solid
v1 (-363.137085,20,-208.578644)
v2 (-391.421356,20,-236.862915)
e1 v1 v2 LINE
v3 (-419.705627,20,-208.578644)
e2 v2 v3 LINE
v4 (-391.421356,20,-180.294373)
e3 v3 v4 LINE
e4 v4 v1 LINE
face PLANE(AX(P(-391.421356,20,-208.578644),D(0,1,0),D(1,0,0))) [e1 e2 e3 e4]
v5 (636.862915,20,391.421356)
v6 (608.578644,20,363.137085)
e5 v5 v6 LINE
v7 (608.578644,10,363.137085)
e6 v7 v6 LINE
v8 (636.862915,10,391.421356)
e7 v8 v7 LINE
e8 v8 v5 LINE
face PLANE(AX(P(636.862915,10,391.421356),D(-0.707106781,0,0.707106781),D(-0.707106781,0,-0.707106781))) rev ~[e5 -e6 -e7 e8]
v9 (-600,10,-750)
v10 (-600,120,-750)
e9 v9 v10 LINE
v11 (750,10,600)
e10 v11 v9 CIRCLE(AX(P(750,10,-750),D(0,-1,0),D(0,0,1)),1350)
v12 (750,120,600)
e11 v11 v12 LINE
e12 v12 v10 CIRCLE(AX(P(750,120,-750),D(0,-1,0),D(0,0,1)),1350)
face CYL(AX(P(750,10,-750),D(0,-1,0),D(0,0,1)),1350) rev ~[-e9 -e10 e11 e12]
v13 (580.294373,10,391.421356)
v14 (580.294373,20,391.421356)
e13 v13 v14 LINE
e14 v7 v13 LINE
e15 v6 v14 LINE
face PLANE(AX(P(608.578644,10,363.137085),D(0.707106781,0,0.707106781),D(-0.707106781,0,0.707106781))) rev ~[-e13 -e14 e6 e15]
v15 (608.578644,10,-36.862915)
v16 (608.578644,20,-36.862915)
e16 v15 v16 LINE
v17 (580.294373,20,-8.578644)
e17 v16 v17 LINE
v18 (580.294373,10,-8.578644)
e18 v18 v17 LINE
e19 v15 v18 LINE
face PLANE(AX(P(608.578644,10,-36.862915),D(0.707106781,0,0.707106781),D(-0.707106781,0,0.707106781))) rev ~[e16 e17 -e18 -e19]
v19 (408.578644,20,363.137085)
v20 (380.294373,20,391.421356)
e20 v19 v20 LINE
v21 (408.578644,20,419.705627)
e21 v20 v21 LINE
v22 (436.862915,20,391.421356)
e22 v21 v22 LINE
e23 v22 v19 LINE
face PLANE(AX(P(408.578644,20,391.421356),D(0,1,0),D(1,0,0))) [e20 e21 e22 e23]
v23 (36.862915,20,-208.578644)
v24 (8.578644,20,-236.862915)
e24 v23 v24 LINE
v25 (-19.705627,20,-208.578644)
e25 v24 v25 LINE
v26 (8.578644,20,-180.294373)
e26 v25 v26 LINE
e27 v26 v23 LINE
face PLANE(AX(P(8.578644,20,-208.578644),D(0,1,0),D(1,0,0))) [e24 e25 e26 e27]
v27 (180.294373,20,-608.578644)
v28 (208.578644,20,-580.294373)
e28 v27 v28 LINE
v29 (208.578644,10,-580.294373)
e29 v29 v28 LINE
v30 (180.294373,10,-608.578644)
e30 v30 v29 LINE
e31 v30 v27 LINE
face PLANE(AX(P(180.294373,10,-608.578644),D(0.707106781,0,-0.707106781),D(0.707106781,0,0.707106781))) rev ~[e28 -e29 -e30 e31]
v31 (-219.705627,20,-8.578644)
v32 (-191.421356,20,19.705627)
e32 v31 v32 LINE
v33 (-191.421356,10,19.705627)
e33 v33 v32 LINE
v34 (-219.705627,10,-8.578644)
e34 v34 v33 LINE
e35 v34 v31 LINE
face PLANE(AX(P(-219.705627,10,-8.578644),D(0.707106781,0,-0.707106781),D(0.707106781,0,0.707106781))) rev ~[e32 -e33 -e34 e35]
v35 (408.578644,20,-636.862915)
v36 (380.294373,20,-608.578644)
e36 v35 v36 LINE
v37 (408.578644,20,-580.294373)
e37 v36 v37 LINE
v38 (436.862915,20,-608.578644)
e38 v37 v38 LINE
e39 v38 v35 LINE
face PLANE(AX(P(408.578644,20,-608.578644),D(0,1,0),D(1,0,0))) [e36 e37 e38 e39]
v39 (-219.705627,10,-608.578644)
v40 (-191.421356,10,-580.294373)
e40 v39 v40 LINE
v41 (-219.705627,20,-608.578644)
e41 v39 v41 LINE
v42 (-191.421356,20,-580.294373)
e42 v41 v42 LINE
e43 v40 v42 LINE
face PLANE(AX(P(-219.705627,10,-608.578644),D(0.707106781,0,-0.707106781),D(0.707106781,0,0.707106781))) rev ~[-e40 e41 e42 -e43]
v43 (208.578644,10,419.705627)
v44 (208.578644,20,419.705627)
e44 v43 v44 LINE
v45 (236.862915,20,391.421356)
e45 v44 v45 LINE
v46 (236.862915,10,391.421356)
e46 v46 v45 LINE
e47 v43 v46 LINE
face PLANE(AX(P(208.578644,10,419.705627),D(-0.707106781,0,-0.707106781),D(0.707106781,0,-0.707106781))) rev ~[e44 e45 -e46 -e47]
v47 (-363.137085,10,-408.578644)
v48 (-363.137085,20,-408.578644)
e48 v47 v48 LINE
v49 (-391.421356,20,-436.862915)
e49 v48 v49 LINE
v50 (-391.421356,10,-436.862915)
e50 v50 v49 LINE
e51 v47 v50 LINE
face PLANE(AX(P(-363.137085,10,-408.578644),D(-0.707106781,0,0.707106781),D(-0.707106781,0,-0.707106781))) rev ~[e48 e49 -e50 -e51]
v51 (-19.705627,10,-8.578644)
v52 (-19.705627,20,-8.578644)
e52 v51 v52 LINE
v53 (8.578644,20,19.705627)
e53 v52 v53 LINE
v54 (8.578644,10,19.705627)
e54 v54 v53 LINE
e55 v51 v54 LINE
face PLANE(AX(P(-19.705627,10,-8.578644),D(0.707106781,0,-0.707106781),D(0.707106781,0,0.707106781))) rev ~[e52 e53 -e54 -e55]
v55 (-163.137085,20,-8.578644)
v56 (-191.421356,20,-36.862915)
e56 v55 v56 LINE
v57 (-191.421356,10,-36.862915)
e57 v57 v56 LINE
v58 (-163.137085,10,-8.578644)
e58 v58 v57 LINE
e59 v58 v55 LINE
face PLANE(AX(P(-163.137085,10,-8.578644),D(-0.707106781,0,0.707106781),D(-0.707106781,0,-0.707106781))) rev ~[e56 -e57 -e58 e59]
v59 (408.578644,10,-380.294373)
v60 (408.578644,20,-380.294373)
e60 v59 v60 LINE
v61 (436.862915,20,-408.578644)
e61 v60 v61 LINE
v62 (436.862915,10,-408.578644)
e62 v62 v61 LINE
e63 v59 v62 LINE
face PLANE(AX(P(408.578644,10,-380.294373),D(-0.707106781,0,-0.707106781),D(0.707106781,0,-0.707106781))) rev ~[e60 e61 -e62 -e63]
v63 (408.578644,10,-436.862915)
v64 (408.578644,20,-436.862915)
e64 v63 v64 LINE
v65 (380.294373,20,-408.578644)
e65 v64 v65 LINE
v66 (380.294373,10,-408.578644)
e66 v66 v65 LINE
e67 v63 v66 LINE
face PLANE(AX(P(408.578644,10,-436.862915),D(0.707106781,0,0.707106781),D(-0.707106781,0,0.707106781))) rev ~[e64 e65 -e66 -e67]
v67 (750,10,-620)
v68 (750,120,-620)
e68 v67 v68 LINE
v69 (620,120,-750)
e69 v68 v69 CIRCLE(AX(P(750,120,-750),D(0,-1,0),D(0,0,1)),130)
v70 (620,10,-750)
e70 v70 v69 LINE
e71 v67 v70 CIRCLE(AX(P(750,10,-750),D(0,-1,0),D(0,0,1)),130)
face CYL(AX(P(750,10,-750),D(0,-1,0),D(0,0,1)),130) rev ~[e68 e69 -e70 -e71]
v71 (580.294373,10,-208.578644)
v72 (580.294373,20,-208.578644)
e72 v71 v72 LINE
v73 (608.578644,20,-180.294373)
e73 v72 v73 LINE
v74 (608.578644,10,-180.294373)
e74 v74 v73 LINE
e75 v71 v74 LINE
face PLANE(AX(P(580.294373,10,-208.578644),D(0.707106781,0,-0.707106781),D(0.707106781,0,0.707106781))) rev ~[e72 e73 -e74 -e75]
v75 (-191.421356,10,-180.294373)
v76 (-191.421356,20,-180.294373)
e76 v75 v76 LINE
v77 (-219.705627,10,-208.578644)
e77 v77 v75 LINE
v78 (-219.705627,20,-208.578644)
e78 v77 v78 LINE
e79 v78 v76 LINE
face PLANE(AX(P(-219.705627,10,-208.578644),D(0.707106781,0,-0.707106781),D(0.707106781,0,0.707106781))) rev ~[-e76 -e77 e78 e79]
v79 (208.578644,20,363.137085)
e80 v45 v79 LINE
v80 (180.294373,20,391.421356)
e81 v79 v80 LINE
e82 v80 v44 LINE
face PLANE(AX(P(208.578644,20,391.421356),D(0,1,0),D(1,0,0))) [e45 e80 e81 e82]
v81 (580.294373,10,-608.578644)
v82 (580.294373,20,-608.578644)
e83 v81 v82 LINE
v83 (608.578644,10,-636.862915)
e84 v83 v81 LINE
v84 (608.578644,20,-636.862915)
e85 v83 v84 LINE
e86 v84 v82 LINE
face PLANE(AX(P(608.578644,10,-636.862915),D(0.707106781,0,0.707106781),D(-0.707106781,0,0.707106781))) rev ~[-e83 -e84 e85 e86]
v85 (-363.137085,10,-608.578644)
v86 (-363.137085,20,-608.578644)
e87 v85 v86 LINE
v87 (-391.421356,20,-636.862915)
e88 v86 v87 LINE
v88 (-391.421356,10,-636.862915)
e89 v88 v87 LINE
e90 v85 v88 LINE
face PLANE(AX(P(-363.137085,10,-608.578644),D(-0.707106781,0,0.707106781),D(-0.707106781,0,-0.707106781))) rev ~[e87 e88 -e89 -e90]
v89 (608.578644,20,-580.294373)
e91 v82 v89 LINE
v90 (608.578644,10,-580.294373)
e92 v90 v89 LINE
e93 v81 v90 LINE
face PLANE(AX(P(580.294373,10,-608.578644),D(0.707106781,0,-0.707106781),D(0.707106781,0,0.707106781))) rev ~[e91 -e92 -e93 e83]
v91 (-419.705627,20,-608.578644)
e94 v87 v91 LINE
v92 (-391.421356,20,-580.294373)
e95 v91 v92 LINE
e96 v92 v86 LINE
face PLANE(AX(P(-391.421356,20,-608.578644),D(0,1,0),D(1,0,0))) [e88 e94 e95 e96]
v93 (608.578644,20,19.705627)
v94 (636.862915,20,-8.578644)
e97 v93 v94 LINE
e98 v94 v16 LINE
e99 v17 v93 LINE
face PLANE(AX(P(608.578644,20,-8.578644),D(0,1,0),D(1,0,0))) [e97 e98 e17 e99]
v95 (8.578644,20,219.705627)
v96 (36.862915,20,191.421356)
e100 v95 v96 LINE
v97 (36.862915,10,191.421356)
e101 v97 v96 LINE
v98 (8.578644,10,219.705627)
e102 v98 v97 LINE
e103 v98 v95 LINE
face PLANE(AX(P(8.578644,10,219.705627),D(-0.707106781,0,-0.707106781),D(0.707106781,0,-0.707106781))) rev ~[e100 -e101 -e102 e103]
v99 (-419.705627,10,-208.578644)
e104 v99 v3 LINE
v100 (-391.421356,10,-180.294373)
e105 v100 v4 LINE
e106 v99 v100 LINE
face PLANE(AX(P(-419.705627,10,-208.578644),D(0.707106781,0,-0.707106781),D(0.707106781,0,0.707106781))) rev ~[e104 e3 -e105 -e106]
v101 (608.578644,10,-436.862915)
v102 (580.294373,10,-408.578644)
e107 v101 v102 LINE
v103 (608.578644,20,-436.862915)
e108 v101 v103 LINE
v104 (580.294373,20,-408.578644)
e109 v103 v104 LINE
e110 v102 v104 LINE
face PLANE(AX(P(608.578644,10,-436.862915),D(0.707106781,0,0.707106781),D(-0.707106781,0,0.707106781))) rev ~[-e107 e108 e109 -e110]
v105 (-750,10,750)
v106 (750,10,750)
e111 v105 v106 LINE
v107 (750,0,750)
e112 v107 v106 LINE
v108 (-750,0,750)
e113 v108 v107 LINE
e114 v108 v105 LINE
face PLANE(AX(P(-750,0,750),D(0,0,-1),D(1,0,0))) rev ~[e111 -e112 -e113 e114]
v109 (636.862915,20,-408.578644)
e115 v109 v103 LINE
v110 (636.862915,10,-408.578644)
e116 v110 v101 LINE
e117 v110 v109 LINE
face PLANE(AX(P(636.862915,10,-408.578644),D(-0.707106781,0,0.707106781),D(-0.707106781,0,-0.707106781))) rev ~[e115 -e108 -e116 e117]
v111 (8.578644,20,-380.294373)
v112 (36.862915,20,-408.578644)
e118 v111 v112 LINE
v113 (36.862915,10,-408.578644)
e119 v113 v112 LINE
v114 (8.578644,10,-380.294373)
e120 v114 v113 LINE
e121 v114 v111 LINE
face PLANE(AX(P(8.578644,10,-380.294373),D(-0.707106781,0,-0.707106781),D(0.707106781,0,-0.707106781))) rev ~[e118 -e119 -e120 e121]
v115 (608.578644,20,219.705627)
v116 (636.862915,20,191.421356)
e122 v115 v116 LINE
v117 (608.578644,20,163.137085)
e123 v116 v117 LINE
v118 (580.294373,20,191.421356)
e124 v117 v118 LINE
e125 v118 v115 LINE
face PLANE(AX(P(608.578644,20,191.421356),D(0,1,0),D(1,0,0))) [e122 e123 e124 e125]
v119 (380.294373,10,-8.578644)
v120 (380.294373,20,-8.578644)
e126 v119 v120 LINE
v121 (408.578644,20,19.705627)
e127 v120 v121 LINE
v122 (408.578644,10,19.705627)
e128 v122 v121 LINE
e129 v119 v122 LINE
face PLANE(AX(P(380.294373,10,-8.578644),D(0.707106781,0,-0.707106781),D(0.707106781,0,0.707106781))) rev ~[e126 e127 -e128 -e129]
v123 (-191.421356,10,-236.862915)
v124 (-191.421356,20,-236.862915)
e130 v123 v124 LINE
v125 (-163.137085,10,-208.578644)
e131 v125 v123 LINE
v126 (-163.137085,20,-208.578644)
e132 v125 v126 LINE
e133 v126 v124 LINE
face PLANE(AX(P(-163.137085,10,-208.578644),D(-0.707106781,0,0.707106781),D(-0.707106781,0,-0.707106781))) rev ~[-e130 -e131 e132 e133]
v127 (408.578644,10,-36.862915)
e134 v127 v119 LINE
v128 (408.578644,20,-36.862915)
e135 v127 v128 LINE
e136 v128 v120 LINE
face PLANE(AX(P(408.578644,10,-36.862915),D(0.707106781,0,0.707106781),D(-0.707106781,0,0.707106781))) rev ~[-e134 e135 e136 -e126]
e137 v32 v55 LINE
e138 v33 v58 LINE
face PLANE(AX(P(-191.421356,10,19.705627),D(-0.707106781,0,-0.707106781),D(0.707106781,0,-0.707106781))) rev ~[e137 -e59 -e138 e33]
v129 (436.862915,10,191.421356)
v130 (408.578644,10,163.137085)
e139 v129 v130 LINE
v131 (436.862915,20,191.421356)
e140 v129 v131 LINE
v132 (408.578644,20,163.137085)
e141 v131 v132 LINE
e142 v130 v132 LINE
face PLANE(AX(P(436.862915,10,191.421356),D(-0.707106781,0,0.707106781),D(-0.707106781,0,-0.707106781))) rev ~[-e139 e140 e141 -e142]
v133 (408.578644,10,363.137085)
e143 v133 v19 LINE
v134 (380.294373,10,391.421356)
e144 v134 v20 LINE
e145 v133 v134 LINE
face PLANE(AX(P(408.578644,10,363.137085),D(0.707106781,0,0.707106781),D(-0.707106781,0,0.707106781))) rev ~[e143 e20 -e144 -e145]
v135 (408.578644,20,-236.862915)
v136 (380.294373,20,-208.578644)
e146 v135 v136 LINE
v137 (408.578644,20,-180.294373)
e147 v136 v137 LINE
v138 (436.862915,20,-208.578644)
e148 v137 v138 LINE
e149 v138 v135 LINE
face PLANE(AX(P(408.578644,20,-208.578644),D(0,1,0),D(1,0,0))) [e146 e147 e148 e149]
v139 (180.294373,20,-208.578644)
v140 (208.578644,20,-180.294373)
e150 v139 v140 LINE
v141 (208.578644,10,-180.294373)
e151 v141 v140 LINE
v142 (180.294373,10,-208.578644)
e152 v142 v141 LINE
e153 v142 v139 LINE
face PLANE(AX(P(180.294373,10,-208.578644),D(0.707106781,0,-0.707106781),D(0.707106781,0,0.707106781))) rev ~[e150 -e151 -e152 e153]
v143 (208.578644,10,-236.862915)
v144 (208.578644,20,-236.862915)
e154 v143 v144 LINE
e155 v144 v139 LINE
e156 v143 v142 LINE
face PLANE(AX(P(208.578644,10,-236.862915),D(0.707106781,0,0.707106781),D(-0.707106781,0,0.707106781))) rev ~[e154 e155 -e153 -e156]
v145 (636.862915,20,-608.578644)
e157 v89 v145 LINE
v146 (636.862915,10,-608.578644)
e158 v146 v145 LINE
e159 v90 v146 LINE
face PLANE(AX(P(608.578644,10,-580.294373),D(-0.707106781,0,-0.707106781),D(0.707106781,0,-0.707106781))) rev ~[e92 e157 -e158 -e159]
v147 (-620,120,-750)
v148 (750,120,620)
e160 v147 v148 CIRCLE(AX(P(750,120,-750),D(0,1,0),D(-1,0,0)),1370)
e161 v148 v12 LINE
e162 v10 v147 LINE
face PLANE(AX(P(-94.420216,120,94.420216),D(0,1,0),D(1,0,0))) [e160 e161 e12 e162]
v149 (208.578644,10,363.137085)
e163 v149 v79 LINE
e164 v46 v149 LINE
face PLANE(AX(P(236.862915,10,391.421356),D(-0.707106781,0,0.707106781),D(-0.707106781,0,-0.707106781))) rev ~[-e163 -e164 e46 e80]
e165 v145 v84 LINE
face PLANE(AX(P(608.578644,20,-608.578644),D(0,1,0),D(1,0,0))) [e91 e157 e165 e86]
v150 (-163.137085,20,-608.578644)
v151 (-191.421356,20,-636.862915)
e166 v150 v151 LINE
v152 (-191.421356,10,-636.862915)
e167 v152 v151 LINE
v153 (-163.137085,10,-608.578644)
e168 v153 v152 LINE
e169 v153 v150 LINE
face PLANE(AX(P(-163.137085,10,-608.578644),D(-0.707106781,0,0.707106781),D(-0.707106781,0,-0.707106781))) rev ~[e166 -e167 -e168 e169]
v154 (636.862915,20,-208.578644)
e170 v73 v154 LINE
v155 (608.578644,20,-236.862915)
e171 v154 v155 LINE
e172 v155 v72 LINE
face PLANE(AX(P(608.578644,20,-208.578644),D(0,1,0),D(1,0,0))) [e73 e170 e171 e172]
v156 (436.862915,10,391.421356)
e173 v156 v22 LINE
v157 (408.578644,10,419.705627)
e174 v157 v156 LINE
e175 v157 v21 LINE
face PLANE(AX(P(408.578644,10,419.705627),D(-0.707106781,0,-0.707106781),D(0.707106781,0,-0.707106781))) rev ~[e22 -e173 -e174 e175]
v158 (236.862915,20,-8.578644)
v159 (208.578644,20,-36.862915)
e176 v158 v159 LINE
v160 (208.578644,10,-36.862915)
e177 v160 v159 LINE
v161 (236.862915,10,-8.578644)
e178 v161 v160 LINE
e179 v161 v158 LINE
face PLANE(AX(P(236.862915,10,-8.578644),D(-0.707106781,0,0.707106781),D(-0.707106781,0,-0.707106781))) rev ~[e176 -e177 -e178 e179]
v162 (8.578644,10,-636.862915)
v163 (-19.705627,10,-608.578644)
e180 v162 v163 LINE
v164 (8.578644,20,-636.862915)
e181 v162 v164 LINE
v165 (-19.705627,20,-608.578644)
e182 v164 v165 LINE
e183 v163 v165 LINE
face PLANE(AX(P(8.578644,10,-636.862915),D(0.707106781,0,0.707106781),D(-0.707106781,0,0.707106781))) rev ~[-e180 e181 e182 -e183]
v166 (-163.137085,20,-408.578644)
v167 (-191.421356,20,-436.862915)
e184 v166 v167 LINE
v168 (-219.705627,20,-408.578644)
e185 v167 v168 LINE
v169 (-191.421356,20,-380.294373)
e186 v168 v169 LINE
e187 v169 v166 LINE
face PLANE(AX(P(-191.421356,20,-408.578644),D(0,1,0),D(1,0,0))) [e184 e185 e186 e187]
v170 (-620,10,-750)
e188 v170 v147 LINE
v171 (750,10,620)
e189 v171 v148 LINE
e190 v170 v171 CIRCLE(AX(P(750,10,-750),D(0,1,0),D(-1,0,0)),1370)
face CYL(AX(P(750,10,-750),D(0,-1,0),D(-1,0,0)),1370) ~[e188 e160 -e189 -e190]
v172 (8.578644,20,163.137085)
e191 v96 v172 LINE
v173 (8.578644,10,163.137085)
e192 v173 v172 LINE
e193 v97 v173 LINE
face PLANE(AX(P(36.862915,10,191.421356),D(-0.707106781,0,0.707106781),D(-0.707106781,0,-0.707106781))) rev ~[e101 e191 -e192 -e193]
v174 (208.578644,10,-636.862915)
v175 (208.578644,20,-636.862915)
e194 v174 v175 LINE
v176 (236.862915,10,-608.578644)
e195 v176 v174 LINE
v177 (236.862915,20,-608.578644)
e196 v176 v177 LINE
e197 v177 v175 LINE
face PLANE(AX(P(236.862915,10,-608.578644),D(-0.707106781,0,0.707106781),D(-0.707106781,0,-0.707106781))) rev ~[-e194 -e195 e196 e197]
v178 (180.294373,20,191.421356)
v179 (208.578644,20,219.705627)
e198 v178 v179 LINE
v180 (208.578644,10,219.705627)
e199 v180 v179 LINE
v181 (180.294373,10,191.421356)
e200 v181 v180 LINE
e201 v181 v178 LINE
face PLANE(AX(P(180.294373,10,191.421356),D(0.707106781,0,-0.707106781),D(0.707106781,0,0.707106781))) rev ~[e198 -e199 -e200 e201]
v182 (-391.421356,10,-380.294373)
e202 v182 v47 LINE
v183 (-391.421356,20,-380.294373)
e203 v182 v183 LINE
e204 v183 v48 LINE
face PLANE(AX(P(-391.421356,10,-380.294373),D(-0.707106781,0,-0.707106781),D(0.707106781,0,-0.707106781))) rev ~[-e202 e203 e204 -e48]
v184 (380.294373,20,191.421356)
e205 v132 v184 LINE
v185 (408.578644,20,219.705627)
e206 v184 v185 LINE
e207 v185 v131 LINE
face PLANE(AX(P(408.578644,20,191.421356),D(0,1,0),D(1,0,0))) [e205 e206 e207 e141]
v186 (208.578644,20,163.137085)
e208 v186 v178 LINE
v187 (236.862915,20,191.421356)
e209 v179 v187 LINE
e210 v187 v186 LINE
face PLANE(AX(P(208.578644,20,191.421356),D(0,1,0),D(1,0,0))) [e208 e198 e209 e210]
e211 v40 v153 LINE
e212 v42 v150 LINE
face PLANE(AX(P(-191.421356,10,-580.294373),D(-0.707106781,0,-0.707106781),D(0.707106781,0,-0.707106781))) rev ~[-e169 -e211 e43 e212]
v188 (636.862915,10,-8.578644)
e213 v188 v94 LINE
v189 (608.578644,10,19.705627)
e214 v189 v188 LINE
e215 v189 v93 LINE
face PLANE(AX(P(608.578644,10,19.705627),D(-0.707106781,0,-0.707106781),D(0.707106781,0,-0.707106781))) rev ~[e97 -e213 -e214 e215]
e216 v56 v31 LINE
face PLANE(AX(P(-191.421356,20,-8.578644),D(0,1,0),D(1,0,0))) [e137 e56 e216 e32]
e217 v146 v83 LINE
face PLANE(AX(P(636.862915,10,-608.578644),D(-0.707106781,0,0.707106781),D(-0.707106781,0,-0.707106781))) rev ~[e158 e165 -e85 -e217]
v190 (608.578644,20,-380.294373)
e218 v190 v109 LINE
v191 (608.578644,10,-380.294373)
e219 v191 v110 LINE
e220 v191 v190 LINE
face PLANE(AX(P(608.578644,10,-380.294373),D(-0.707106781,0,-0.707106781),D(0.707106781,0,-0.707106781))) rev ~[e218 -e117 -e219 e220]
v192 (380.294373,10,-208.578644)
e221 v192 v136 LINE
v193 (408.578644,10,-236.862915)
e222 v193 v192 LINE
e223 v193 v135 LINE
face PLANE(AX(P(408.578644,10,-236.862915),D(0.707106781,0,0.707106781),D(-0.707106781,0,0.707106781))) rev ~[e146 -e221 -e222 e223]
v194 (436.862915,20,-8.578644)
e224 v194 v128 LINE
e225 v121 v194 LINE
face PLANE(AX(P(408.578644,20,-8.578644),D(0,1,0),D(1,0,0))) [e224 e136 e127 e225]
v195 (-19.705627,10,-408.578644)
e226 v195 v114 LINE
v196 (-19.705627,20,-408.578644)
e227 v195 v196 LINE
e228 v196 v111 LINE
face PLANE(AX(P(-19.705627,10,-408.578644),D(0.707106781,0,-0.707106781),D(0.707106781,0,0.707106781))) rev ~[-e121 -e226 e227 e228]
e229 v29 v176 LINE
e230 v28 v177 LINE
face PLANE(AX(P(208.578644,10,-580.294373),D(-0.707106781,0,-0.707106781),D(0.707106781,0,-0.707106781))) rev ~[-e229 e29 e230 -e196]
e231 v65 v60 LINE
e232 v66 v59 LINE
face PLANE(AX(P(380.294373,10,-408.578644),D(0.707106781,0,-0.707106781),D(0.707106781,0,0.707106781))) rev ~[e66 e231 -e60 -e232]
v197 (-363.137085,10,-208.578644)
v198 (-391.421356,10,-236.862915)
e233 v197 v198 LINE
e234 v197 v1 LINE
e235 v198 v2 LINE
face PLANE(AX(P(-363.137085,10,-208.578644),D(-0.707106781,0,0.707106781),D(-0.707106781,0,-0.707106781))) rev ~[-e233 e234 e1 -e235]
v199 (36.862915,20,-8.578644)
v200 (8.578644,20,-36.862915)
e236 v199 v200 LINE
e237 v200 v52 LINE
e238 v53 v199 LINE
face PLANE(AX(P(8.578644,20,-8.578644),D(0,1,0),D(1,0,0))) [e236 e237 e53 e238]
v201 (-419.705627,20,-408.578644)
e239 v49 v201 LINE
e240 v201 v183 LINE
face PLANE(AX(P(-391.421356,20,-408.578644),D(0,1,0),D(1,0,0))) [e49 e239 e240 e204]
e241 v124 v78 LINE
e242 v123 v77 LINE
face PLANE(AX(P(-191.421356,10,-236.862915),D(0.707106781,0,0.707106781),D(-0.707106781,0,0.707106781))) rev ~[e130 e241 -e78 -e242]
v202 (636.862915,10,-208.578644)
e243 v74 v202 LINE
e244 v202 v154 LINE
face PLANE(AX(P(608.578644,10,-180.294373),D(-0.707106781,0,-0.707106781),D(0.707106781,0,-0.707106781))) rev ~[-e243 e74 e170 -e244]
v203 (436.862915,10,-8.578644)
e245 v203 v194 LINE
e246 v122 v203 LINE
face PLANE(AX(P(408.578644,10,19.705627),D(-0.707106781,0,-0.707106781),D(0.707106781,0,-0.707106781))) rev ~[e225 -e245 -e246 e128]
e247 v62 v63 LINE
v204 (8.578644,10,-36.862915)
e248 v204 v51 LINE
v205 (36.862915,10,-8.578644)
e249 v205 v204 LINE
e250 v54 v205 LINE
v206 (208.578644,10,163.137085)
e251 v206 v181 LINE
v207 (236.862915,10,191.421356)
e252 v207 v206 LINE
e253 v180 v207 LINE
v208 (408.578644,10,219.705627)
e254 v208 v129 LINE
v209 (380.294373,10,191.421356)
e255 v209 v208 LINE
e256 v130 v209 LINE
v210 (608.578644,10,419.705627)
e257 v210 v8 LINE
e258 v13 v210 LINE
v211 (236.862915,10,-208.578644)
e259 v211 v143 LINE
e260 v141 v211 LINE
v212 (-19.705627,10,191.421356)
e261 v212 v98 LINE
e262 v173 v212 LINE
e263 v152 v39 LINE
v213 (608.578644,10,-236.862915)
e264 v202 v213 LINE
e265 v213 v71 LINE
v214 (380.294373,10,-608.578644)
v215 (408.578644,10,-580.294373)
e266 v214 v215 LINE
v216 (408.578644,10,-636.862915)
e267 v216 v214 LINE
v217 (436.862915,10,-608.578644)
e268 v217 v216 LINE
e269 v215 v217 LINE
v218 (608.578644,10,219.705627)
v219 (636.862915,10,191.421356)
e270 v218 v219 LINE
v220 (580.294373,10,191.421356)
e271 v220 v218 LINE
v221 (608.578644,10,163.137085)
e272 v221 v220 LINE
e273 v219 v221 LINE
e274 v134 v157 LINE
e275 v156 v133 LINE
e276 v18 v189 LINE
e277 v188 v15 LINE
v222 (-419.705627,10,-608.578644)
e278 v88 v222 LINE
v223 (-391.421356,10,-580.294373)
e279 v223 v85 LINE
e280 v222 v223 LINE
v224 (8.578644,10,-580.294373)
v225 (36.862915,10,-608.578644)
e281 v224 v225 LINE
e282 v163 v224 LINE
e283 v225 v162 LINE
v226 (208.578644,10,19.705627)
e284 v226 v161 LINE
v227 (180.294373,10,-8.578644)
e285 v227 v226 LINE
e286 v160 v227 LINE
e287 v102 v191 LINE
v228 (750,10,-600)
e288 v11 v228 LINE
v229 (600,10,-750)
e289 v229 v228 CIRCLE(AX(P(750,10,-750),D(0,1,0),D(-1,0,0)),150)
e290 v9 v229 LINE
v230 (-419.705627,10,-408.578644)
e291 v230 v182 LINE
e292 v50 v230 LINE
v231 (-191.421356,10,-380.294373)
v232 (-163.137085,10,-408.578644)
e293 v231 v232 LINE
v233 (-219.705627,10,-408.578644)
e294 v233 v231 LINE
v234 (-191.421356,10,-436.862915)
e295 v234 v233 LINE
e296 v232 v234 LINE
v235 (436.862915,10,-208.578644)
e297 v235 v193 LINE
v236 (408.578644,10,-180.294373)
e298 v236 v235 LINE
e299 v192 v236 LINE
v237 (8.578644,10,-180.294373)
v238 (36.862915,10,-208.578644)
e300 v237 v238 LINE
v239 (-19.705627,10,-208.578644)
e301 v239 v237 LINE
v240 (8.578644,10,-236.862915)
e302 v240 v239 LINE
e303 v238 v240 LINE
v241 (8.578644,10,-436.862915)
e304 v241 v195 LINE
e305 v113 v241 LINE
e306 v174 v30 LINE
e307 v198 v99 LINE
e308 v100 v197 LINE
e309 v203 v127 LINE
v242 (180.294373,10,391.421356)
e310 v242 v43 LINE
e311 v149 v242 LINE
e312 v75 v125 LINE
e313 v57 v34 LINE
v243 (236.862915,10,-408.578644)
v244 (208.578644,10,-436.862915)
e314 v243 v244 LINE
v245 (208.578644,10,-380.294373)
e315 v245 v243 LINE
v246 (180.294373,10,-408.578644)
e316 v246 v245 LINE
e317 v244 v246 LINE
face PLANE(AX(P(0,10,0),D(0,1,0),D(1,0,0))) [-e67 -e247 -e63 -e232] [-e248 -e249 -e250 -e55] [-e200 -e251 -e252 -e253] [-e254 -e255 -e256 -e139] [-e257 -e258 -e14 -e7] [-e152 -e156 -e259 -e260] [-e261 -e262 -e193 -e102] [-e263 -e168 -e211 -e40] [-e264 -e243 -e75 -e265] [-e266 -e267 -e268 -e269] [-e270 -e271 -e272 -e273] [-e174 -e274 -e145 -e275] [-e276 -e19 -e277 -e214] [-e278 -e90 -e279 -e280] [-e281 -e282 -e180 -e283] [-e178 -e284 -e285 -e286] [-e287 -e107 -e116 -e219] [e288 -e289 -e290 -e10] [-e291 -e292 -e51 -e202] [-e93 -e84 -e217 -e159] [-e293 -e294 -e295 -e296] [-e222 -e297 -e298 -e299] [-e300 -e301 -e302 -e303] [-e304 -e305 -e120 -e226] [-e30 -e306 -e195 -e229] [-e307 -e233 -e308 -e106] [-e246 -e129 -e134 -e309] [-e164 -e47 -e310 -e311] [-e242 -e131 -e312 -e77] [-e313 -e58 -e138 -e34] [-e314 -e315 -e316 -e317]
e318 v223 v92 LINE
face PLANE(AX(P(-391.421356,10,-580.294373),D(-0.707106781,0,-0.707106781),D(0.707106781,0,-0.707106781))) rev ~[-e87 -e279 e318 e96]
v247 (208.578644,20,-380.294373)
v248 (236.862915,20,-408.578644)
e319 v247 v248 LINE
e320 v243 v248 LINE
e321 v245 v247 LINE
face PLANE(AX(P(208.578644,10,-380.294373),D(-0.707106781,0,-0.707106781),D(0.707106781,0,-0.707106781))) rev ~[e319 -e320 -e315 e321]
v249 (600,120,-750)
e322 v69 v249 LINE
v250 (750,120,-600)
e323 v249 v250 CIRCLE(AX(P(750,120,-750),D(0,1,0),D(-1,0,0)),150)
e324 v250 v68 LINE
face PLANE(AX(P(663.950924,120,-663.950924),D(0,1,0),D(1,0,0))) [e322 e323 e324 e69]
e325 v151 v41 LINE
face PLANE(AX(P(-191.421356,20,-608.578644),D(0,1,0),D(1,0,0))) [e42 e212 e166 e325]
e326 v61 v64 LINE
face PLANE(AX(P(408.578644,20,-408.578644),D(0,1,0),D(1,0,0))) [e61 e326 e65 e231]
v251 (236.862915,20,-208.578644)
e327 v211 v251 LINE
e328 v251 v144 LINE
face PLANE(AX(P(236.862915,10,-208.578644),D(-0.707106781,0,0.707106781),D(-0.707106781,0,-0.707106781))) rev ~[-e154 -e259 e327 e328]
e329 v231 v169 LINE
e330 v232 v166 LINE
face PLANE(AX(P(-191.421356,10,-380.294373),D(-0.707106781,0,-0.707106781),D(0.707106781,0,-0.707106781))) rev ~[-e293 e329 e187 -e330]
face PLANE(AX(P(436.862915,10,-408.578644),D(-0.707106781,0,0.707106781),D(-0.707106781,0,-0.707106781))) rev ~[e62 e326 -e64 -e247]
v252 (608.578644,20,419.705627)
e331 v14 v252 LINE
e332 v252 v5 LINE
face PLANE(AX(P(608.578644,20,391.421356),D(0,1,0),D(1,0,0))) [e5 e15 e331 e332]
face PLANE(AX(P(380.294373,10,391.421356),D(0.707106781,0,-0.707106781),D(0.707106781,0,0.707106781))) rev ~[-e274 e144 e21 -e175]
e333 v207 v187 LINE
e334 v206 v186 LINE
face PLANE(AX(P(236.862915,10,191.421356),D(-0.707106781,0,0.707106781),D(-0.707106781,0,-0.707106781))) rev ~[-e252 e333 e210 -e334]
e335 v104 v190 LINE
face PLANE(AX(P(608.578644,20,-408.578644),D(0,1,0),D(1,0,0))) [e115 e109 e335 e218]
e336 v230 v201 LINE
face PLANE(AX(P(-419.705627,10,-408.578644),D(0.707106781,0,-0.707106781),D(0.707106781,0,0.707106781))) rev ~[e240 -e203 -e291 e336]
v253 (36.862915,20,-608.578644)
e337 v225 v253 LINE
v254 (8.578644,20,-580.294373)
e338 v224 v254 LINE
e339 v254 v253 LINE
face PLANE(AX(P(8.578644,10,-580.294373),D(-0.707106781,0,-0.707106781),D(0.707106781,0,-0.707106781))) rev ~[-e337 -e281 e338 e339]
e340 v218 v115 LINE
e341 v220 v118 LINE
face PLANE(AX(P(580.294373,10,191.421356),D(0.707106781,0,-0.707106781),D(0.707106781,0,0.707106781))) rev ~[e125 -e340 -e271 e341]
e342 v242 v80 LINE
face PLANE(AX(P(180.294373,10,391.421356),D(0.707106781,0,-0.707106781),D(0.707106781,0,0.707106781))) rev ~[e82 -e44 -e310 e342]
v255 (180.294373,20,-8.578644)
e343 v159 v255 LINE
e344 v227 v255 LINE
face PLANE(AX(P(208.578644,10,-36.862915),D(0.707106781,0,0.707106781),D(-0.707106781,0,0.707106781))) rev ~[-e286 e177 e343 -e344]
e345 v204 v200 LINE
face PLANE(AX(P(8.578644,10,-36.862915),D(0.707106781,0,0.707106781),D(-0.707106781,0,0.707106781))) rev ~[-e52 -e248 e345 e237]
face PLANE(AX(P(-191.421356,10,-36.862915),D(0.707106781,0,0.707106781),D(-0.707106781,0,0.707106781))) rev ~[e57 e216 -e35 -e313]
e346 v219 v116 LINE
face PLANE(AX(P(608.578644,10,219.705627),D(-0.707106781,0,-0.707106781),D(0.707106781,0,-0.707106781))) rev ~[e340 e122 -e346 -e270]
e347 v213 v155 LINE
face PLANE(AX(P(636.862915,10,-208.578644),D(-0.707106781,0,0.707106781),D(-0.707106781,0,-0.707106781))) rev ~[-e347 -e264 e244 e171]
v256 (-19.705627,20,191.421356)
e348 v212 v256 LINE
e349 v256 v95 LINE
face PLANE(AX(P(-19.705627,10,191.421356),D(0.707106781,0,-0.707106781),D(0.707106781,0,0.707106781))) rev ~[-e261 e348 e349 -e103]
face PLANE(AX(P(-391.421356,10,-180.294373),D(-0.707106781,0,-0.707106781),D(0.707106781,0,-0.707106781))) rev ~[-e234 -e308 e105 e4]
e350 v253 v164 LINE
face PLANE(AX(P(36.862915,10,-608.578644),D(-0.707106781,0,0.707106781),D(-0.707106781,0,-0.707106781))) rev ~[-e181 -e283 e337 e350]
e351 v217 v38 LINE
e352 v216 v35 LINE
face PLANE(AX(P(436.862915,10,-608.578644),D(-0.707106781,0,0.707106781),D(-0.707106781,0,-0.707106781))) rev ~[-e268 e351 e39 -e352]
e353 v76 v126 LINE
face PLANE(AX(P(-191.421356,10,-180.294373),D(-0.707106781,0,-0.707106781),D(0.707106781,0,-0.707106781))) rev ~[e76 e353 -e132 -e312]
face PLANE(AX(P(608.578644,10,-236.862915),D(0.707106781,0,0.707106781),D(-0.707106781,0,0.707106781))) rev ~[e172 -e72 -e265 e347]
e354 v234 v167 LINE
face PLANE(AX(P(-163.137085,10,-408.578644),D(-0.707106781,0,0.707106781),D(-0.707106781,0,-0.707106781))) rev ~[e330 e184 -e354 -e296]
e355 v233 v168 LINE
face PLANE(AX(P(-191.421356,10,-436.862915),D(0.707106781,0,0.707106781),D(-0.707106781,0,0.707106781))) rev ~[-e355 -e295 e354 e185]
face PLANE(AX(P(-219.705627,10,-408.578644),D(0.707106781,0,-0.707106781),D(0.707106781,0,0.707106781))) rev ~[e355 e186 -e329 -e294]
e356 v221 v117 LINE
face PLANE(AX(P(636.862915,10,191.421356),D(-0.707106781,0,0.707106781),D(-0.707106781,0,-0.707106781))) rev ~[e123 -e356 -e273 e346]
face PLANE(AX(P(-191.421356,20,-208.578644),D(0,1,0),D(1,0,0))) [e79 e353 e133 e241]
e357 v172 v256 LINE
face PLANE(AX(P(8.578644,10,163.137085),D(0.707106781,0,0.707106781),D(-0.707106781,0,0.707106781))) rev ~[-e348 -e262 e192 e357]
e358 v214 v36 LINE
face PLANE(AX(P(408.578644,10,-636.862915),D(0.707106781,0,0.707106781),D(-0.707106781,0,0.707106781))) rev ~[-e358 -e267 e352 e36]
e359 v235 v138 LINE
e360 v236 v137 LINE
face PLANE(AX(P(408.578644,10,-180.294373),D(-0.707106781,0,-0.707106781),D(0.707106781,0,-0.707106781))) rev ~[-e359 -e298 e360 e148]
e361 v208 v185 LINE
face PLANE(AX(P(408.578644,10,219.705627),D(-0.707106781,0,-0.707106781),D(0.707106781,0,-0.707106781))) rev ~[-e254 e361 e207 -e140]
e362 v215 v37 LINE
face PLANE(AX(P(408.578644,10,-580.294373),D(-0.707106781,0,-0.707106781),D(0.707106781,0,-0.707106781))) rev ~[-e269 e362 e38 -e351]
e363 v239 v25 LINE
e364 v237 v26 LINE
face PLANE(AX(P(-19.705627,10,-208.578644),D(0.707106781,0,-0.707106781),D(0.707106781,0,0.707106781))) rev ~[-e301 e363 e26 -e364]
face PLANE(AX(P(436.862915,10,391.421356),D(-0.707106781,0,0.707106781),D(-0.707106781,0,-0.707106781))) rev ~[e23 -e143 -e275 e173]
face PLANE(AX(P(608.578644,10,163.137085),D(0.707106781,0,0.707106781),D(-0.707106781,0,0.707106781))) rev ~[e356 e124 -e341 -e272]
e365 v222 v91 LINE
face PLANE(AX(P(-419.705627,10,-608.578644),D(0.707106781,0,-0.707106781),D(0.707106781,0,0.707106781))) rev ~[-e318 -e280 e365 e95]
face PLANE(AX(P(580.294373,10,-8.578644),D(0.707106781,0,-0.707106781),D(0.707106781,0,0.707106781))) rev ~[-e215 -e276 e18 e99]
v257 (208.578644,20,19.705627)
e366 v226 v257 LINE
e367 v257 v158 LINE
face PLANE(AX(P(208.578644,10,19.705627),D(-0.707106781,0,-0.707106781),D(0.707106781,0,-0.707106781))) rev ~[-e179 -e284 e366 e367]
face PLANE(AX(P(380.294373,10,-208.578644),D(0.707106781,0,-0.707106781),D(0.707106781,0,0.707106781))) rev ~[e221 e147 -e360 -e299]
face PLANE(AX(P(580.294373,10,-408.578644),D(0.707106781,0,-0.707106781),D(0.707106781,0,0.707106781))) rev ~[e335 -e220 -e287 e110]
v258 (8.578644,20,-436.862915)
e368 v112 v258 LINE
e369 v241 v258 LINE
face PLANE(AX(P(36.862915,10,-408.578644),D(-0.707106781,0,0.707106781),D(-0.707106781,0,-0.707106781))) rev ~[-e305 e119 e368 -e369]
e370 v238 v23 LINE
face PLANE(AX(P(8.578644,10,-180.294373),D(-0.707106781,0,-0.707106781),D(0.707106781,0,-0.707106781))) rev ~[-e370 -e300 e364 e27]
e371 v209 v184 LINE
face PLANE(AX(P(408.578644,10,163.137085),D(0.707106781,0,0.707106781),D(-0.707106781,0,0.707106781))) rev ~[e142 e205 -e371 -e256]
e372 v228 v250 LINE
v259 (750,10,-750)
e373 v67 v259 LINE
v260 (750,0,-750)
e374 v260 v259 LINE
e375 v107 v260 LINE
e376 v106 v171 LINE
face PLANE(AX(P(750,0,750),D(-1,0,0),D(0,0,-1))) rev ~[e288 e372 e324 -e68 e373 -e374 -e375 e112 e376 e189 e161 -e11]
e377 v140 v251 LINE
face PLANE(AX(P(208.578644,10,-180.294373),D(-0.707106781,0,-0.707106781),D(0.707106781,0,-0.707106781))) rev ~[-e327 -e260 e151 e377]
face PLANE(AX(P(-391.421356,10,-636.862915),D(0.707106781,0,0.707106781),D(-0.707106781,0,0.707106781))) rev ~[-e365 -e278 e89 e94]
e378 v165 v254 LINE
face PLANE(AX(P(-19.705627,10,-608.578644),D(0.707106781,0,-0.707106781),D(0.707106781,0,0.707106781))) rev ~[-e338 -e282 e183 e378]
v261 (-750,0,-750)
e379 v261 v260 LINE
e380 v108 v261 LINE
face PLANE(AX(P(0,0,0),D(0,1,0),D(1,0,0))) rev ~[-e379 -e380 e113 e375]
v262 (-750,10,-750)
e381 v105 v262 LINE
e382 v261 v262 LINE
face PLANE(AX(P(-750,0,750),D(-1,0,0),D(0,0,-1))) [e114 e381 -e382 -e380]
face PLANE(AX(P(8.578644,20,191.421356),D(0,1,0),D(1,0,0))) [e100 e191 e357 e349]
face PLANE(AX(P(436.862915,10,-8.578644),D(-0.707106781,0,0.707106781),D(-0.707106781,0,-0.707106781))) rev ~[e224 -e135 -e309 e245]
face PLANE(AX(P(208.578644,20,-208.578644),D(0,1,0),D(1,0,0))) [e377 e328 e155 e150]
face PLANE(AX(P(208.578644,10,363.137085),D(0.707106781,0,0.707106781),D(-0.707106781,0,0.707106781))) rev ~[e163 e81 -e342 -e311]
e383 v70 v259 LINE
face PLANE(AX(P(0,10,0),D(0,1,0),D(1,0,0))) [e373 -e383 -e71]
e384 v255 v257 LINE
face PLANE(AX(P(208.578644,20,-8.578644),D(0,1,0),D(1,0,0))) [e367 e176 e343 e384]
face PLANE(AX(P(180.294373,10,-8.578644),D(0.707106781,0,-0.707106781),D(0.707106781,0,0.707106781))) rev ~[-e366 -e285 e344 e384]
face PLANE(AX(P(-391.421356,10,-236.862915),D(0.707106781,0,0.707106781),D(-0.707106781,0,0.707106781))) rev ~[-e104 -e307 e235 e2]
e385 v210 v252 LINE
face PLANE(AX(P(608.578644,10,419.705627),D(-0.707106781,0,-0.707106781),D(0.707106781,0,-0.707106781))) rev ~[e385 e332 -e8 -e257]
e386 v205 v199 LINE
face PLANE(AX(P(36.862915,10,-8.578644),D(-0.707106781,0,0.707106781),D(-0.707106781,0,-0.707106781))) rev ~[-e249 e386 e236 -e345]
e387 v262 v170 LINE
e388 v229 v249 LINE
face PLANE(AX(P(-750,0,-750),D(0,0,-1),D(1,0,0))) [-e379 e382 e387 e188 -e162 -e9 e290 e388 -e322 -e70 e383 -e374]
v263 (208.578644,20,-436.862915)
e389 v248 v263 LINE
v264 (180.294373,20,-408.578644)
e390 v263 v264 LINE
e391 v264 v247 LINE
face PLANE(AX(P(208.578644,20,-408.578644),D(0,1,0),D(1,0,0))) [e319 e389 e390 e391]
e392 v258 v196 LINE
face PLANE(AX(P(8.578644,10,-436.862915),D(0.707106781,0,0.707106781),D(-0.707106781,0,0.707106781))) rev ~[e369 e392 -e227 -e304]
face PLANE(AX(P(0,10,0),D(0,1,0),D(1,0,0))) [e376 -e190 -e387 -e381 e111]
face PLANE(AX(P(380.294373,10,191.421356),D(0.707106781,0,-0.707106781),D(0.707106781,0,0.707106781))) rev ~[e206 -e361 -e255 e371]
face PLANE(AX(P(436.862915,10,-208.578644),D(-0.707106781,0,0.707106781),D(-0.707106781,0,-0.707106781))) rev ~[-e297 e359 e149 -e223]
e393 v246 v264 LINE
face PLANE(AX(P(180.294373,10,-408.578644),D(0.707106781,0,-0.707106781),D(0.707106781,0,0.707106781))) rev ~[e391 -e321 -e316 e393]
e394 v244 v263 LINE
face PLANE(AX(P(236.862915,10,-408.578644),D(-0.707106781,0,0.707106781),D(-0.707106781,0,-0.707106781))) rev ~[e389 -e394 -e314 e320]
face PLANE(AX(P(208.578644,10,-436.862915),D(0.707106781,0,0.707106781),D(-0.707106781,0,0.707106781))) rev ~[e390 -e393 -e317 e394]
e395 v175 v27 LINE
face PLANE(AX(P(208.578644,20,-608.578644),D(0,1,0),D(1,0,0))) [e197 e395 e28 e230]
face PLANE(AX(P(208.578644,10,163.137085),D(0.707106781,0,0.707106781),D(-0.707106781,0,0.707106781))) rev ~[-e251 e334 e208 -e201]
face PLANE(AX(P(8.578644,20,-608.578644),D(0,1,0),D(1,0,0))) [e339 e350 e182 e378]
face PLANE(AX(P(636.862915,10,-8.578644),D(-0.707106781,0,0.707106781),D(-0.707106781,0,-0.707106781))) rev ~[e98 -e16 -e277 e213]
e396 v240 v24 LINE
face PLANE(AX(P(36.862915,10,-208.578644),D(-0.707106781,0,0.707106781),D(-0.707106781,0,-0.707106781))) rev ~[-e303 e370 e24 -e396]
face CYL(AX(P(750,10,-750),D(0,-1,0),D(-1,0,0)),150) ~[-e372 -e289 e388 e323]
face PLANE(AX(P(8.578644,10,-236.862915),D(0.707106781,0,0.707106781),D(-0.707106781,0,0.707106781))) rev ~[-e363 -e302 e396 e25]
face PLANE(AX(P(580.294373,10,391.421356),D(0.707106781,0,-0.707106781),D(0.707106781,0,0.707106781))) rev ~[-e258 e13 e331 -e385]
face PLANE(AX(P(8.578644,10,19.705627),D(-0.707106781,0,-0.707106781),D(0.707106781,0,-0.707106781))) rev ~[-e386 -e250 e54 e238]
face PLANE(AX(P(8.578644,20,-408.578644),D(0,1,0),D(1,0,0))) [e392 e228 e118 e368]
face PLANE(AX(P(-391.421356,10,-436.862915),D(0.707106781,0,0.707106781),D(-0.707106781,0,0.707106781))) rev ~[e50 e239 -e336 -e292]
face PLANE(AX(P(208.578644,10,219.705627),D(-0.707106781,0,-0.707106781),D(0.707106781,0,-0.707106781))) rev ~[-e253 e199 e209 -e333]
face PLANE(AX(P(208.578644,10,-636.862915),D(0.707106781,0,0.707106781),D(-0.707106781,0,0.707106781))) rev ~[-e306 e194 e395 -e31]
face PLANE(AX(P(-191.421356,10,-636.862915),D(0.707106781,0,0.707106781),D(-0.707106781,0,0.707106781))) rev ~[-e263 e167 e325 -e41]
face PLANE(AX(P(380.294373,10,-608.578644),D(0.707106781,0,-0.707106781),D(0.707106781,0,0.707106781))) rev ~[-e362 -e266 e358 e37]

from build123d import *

# Parameters (mm, degrees)
SKETCH2_W           = 1500
SKETCH2_H           = 1500
BOSS_EXTRUDE1_DEPTH = 10
BOSS_EXTRUDE2_DEPTH = 110
BOSS_EXTRUDE3_DEPTH = 10


with BuildPart() as part:
    # Sketch2 → Boss-Extrude1 (new body)
    with BuildSketch(Plane(origin=(0, 0, 0), x_dir=(1, 0, 0), z_dir=(0, 1, 0))):
        Rectangle(SKETCH2_W, SKETCH2_H)
    extrude(amount=BOSS_EXTRUDE1_DEPTH)

    # Sketch3 → Boss-Extrude2 (add)
    with BuildSketch(Plane(origin=(0, 10, 0), x_dir=(1, 0, 0), z_dir=(0, 1, 0))):
        with BuildLine():
            ThreePointArc((750, -600), (-204.594154602, -204.594154602), (-600, 750))
            Line((-600, 750), (-620, 750))
            ThreePointArc((-620, 750), (-218.736290226, -218.736290226), (750, -620))
            Line((750, -620), (750, -600))
        make_face()
        with BuildLine():
            Line((620, 750), (600, 750))
            ThreePointArc((600, 750), (643.933982822, 643.933982822), (750, 600))
            Line((750, 600), (750, 620))
            ThreePointArc((750, 620), (658.076118446, 658.076118446), (620, 750))
        make_face()
    extrude(amount=BOSS_EXTRUDE2_DEPTH)

    # Sketch4 → Boss-Extrude3 (add)
    with BuildSketch(Plane(origin=(0, 10, 0), x_dir=(1, 0, 0), z_dir=(0, 1, 0))):
        Polygon((-391.421356236, 636.86291501), (-419.705627484, 608.578643763), (-391.421356236, 580.294372515), (-363.137084989, 608.578643763), align=None)
        Polygon((-191.421356236, 636.86291501), (-219.705627484, 608.578643763), (-191.421356236, 580.294372515), (-163.137084989, 608.578643763), align=None)
        Polygon((8.578643763, 636.86291501), (-19.705627484, 608.578643763), (8.578643763, 580.294372515), (36.862915011, 608.578643763), align=None)
        Polygon((208.578643763, 636.86291501), (180.294372516, 608.578643763), (208.578643763, 580.294372515), (236.862915011, 608.578643763), align=None)
        Polygon((408.578643763, 636.86291501), (380.294372515, 608.578643763), (408.578643763, 580.294372515), (436.86291501, 608.578643763), align=None)
        Polygon((-191.421356236, 436.86291501), (-219.705627484, 408.578643763), (-191.421356236, 380.294372515), (-163.137084989, 408.578643763), align=None)
        Polygon((8.578643763, 436.86291501), (-19.705627484, 408.578643763), (8.578643763, 380.294372515), (36.862915011, 408.578643763), align=None)
        Polygon((208.578643763, 436.86291501), (180.294372516, 408.578643763), (208.578643763, 380.294372515), (236.862915011, 408.578643763), align=None)
        Polygon((408.578643763, 436.86291501), (380.294372515, 408.578643763), (408.578643763, 380.294372515), (436.86291501, 408.578643763), align=None)
        Polygon((-191.421356236, 236.86291501), (-219.705627484, 208.578643763), (-191.421356236, 180.294372515), (-163.137084989, 208.578643763), align=None)
        Polygon((8.578643763, 236.86291501), (-19.705627484, 208.578643763), (8.578643763, 180.294372515), (36.862915011, 208.578643763), align=None)
        Polygon((208.578643763, 236.86291501), (180.294372516, 208.578643763), (208.578643763, 180.294372515), (236.862915011, 208.578643763), align=None)
        Polygon((408.578643763, 236.86291501), (380.294372515, 208.578643763), (408.578643763, 180.294372515), (436.86291501, 208.578643763), align=None)
        Polygon((-191.421356236, 36.86291501), (-219.705627484, 8.578643763), (-191.421356236, -19.705627485), (-163.137084989, 8.578643763), align=None)
        Polygon((8.578643763, 36.86291501), (-19.705627484, 8.578643763), (8.578643763, -19.705627485), (36.862915011, 8.578643763), align=None)
        Polygon((208.578643763, 36.86291501), (180.294372516, 8.578643763), (208.578643763, -19.705627485), (236.862915011, 8.578643763), align=None)
        Polygon((408.578643763, 36.86291501), (380.294372515, 8.578643763), (408.578643763, -19.705627485), (436.86291501, 8.578643763), align=None)
        Polygon((8.578643763, -163.13708499), (-19.705627484, -191.421356237), (8.578643763, -219.705627485), (36.862915011, -191.421356237), align=None)
        Polygon((208.578643763, -163.13708499), (180.294372516, -191.421356237), (208.578643763, -219.705627485), (236.862915011, -191.421356237), align=None)
        Polygon((408.578643763, -163.13708499), (380.294372515, -191.421356237), (408.578643763, -219.705627485), (436.86291501, -191.421356237), align=None)
        Polygon((-391.421356236, 436.86291501), (-419.705627484, 408.578643763), (-391.421356236, 380.294372515), (-363.137084989, 408.578643763), align=None)
        Polygon((-391.421356236, 236.86291501), (-419.705627484, 208.578643763), (-391.421356236, 180.294372515), (-363.137084989, 208.578643763), align=None)
        Polygon((208.578643763, -363.13708499), (180.294372516, -391.421356237), (208.578643763, -419.705627485), (236.862915011, -391.421356237), align=None)
        Polygon((408.578643763, -363.13708499), (380.294372515, -391.421356237), (408.578643763, -419.705627485), (436.86291501, -391.421356237), align=None)
        Polygon((608.578643763, 636.86291501), (580.294372515, 608.578643763), (608.578643763, 580.294372515), (636.86291501, 608.578643763), align=None)
        Polygon((608.578643763, 436.86291501), (580.294372515, 408.578643763), (608.578643763, 380.294372515), (636.86291501, 408.578643763), align=None)
        Polygon((608.578643763, 236.86291501), (580.294372515, 208.578643763), (608.578643763, 180.294372515), (636.86291501, 208.578643763), align=None)
        Polygon((608.578643763, 36.86291501), (580.294372515, 8.578643763), (608.578643763, -19.705627485), (636.86291501, 8.578643763), align=None)
        Polygon((608.578643763, -163.13708499), (580.294372515, -191.421356237), (608.578643763, -219.705627485), (636.86291501, -191.421356237), align=None)
        Polygon((608.578643763, -363.13708499), (580.294372515, -391.421356237), (608.578643763, -419.705627485), (636.86291501, -391.421356237), align=None)
    extrude(amount=BOSS_EXTRUDE3_DEPTH)


solid = part.part
